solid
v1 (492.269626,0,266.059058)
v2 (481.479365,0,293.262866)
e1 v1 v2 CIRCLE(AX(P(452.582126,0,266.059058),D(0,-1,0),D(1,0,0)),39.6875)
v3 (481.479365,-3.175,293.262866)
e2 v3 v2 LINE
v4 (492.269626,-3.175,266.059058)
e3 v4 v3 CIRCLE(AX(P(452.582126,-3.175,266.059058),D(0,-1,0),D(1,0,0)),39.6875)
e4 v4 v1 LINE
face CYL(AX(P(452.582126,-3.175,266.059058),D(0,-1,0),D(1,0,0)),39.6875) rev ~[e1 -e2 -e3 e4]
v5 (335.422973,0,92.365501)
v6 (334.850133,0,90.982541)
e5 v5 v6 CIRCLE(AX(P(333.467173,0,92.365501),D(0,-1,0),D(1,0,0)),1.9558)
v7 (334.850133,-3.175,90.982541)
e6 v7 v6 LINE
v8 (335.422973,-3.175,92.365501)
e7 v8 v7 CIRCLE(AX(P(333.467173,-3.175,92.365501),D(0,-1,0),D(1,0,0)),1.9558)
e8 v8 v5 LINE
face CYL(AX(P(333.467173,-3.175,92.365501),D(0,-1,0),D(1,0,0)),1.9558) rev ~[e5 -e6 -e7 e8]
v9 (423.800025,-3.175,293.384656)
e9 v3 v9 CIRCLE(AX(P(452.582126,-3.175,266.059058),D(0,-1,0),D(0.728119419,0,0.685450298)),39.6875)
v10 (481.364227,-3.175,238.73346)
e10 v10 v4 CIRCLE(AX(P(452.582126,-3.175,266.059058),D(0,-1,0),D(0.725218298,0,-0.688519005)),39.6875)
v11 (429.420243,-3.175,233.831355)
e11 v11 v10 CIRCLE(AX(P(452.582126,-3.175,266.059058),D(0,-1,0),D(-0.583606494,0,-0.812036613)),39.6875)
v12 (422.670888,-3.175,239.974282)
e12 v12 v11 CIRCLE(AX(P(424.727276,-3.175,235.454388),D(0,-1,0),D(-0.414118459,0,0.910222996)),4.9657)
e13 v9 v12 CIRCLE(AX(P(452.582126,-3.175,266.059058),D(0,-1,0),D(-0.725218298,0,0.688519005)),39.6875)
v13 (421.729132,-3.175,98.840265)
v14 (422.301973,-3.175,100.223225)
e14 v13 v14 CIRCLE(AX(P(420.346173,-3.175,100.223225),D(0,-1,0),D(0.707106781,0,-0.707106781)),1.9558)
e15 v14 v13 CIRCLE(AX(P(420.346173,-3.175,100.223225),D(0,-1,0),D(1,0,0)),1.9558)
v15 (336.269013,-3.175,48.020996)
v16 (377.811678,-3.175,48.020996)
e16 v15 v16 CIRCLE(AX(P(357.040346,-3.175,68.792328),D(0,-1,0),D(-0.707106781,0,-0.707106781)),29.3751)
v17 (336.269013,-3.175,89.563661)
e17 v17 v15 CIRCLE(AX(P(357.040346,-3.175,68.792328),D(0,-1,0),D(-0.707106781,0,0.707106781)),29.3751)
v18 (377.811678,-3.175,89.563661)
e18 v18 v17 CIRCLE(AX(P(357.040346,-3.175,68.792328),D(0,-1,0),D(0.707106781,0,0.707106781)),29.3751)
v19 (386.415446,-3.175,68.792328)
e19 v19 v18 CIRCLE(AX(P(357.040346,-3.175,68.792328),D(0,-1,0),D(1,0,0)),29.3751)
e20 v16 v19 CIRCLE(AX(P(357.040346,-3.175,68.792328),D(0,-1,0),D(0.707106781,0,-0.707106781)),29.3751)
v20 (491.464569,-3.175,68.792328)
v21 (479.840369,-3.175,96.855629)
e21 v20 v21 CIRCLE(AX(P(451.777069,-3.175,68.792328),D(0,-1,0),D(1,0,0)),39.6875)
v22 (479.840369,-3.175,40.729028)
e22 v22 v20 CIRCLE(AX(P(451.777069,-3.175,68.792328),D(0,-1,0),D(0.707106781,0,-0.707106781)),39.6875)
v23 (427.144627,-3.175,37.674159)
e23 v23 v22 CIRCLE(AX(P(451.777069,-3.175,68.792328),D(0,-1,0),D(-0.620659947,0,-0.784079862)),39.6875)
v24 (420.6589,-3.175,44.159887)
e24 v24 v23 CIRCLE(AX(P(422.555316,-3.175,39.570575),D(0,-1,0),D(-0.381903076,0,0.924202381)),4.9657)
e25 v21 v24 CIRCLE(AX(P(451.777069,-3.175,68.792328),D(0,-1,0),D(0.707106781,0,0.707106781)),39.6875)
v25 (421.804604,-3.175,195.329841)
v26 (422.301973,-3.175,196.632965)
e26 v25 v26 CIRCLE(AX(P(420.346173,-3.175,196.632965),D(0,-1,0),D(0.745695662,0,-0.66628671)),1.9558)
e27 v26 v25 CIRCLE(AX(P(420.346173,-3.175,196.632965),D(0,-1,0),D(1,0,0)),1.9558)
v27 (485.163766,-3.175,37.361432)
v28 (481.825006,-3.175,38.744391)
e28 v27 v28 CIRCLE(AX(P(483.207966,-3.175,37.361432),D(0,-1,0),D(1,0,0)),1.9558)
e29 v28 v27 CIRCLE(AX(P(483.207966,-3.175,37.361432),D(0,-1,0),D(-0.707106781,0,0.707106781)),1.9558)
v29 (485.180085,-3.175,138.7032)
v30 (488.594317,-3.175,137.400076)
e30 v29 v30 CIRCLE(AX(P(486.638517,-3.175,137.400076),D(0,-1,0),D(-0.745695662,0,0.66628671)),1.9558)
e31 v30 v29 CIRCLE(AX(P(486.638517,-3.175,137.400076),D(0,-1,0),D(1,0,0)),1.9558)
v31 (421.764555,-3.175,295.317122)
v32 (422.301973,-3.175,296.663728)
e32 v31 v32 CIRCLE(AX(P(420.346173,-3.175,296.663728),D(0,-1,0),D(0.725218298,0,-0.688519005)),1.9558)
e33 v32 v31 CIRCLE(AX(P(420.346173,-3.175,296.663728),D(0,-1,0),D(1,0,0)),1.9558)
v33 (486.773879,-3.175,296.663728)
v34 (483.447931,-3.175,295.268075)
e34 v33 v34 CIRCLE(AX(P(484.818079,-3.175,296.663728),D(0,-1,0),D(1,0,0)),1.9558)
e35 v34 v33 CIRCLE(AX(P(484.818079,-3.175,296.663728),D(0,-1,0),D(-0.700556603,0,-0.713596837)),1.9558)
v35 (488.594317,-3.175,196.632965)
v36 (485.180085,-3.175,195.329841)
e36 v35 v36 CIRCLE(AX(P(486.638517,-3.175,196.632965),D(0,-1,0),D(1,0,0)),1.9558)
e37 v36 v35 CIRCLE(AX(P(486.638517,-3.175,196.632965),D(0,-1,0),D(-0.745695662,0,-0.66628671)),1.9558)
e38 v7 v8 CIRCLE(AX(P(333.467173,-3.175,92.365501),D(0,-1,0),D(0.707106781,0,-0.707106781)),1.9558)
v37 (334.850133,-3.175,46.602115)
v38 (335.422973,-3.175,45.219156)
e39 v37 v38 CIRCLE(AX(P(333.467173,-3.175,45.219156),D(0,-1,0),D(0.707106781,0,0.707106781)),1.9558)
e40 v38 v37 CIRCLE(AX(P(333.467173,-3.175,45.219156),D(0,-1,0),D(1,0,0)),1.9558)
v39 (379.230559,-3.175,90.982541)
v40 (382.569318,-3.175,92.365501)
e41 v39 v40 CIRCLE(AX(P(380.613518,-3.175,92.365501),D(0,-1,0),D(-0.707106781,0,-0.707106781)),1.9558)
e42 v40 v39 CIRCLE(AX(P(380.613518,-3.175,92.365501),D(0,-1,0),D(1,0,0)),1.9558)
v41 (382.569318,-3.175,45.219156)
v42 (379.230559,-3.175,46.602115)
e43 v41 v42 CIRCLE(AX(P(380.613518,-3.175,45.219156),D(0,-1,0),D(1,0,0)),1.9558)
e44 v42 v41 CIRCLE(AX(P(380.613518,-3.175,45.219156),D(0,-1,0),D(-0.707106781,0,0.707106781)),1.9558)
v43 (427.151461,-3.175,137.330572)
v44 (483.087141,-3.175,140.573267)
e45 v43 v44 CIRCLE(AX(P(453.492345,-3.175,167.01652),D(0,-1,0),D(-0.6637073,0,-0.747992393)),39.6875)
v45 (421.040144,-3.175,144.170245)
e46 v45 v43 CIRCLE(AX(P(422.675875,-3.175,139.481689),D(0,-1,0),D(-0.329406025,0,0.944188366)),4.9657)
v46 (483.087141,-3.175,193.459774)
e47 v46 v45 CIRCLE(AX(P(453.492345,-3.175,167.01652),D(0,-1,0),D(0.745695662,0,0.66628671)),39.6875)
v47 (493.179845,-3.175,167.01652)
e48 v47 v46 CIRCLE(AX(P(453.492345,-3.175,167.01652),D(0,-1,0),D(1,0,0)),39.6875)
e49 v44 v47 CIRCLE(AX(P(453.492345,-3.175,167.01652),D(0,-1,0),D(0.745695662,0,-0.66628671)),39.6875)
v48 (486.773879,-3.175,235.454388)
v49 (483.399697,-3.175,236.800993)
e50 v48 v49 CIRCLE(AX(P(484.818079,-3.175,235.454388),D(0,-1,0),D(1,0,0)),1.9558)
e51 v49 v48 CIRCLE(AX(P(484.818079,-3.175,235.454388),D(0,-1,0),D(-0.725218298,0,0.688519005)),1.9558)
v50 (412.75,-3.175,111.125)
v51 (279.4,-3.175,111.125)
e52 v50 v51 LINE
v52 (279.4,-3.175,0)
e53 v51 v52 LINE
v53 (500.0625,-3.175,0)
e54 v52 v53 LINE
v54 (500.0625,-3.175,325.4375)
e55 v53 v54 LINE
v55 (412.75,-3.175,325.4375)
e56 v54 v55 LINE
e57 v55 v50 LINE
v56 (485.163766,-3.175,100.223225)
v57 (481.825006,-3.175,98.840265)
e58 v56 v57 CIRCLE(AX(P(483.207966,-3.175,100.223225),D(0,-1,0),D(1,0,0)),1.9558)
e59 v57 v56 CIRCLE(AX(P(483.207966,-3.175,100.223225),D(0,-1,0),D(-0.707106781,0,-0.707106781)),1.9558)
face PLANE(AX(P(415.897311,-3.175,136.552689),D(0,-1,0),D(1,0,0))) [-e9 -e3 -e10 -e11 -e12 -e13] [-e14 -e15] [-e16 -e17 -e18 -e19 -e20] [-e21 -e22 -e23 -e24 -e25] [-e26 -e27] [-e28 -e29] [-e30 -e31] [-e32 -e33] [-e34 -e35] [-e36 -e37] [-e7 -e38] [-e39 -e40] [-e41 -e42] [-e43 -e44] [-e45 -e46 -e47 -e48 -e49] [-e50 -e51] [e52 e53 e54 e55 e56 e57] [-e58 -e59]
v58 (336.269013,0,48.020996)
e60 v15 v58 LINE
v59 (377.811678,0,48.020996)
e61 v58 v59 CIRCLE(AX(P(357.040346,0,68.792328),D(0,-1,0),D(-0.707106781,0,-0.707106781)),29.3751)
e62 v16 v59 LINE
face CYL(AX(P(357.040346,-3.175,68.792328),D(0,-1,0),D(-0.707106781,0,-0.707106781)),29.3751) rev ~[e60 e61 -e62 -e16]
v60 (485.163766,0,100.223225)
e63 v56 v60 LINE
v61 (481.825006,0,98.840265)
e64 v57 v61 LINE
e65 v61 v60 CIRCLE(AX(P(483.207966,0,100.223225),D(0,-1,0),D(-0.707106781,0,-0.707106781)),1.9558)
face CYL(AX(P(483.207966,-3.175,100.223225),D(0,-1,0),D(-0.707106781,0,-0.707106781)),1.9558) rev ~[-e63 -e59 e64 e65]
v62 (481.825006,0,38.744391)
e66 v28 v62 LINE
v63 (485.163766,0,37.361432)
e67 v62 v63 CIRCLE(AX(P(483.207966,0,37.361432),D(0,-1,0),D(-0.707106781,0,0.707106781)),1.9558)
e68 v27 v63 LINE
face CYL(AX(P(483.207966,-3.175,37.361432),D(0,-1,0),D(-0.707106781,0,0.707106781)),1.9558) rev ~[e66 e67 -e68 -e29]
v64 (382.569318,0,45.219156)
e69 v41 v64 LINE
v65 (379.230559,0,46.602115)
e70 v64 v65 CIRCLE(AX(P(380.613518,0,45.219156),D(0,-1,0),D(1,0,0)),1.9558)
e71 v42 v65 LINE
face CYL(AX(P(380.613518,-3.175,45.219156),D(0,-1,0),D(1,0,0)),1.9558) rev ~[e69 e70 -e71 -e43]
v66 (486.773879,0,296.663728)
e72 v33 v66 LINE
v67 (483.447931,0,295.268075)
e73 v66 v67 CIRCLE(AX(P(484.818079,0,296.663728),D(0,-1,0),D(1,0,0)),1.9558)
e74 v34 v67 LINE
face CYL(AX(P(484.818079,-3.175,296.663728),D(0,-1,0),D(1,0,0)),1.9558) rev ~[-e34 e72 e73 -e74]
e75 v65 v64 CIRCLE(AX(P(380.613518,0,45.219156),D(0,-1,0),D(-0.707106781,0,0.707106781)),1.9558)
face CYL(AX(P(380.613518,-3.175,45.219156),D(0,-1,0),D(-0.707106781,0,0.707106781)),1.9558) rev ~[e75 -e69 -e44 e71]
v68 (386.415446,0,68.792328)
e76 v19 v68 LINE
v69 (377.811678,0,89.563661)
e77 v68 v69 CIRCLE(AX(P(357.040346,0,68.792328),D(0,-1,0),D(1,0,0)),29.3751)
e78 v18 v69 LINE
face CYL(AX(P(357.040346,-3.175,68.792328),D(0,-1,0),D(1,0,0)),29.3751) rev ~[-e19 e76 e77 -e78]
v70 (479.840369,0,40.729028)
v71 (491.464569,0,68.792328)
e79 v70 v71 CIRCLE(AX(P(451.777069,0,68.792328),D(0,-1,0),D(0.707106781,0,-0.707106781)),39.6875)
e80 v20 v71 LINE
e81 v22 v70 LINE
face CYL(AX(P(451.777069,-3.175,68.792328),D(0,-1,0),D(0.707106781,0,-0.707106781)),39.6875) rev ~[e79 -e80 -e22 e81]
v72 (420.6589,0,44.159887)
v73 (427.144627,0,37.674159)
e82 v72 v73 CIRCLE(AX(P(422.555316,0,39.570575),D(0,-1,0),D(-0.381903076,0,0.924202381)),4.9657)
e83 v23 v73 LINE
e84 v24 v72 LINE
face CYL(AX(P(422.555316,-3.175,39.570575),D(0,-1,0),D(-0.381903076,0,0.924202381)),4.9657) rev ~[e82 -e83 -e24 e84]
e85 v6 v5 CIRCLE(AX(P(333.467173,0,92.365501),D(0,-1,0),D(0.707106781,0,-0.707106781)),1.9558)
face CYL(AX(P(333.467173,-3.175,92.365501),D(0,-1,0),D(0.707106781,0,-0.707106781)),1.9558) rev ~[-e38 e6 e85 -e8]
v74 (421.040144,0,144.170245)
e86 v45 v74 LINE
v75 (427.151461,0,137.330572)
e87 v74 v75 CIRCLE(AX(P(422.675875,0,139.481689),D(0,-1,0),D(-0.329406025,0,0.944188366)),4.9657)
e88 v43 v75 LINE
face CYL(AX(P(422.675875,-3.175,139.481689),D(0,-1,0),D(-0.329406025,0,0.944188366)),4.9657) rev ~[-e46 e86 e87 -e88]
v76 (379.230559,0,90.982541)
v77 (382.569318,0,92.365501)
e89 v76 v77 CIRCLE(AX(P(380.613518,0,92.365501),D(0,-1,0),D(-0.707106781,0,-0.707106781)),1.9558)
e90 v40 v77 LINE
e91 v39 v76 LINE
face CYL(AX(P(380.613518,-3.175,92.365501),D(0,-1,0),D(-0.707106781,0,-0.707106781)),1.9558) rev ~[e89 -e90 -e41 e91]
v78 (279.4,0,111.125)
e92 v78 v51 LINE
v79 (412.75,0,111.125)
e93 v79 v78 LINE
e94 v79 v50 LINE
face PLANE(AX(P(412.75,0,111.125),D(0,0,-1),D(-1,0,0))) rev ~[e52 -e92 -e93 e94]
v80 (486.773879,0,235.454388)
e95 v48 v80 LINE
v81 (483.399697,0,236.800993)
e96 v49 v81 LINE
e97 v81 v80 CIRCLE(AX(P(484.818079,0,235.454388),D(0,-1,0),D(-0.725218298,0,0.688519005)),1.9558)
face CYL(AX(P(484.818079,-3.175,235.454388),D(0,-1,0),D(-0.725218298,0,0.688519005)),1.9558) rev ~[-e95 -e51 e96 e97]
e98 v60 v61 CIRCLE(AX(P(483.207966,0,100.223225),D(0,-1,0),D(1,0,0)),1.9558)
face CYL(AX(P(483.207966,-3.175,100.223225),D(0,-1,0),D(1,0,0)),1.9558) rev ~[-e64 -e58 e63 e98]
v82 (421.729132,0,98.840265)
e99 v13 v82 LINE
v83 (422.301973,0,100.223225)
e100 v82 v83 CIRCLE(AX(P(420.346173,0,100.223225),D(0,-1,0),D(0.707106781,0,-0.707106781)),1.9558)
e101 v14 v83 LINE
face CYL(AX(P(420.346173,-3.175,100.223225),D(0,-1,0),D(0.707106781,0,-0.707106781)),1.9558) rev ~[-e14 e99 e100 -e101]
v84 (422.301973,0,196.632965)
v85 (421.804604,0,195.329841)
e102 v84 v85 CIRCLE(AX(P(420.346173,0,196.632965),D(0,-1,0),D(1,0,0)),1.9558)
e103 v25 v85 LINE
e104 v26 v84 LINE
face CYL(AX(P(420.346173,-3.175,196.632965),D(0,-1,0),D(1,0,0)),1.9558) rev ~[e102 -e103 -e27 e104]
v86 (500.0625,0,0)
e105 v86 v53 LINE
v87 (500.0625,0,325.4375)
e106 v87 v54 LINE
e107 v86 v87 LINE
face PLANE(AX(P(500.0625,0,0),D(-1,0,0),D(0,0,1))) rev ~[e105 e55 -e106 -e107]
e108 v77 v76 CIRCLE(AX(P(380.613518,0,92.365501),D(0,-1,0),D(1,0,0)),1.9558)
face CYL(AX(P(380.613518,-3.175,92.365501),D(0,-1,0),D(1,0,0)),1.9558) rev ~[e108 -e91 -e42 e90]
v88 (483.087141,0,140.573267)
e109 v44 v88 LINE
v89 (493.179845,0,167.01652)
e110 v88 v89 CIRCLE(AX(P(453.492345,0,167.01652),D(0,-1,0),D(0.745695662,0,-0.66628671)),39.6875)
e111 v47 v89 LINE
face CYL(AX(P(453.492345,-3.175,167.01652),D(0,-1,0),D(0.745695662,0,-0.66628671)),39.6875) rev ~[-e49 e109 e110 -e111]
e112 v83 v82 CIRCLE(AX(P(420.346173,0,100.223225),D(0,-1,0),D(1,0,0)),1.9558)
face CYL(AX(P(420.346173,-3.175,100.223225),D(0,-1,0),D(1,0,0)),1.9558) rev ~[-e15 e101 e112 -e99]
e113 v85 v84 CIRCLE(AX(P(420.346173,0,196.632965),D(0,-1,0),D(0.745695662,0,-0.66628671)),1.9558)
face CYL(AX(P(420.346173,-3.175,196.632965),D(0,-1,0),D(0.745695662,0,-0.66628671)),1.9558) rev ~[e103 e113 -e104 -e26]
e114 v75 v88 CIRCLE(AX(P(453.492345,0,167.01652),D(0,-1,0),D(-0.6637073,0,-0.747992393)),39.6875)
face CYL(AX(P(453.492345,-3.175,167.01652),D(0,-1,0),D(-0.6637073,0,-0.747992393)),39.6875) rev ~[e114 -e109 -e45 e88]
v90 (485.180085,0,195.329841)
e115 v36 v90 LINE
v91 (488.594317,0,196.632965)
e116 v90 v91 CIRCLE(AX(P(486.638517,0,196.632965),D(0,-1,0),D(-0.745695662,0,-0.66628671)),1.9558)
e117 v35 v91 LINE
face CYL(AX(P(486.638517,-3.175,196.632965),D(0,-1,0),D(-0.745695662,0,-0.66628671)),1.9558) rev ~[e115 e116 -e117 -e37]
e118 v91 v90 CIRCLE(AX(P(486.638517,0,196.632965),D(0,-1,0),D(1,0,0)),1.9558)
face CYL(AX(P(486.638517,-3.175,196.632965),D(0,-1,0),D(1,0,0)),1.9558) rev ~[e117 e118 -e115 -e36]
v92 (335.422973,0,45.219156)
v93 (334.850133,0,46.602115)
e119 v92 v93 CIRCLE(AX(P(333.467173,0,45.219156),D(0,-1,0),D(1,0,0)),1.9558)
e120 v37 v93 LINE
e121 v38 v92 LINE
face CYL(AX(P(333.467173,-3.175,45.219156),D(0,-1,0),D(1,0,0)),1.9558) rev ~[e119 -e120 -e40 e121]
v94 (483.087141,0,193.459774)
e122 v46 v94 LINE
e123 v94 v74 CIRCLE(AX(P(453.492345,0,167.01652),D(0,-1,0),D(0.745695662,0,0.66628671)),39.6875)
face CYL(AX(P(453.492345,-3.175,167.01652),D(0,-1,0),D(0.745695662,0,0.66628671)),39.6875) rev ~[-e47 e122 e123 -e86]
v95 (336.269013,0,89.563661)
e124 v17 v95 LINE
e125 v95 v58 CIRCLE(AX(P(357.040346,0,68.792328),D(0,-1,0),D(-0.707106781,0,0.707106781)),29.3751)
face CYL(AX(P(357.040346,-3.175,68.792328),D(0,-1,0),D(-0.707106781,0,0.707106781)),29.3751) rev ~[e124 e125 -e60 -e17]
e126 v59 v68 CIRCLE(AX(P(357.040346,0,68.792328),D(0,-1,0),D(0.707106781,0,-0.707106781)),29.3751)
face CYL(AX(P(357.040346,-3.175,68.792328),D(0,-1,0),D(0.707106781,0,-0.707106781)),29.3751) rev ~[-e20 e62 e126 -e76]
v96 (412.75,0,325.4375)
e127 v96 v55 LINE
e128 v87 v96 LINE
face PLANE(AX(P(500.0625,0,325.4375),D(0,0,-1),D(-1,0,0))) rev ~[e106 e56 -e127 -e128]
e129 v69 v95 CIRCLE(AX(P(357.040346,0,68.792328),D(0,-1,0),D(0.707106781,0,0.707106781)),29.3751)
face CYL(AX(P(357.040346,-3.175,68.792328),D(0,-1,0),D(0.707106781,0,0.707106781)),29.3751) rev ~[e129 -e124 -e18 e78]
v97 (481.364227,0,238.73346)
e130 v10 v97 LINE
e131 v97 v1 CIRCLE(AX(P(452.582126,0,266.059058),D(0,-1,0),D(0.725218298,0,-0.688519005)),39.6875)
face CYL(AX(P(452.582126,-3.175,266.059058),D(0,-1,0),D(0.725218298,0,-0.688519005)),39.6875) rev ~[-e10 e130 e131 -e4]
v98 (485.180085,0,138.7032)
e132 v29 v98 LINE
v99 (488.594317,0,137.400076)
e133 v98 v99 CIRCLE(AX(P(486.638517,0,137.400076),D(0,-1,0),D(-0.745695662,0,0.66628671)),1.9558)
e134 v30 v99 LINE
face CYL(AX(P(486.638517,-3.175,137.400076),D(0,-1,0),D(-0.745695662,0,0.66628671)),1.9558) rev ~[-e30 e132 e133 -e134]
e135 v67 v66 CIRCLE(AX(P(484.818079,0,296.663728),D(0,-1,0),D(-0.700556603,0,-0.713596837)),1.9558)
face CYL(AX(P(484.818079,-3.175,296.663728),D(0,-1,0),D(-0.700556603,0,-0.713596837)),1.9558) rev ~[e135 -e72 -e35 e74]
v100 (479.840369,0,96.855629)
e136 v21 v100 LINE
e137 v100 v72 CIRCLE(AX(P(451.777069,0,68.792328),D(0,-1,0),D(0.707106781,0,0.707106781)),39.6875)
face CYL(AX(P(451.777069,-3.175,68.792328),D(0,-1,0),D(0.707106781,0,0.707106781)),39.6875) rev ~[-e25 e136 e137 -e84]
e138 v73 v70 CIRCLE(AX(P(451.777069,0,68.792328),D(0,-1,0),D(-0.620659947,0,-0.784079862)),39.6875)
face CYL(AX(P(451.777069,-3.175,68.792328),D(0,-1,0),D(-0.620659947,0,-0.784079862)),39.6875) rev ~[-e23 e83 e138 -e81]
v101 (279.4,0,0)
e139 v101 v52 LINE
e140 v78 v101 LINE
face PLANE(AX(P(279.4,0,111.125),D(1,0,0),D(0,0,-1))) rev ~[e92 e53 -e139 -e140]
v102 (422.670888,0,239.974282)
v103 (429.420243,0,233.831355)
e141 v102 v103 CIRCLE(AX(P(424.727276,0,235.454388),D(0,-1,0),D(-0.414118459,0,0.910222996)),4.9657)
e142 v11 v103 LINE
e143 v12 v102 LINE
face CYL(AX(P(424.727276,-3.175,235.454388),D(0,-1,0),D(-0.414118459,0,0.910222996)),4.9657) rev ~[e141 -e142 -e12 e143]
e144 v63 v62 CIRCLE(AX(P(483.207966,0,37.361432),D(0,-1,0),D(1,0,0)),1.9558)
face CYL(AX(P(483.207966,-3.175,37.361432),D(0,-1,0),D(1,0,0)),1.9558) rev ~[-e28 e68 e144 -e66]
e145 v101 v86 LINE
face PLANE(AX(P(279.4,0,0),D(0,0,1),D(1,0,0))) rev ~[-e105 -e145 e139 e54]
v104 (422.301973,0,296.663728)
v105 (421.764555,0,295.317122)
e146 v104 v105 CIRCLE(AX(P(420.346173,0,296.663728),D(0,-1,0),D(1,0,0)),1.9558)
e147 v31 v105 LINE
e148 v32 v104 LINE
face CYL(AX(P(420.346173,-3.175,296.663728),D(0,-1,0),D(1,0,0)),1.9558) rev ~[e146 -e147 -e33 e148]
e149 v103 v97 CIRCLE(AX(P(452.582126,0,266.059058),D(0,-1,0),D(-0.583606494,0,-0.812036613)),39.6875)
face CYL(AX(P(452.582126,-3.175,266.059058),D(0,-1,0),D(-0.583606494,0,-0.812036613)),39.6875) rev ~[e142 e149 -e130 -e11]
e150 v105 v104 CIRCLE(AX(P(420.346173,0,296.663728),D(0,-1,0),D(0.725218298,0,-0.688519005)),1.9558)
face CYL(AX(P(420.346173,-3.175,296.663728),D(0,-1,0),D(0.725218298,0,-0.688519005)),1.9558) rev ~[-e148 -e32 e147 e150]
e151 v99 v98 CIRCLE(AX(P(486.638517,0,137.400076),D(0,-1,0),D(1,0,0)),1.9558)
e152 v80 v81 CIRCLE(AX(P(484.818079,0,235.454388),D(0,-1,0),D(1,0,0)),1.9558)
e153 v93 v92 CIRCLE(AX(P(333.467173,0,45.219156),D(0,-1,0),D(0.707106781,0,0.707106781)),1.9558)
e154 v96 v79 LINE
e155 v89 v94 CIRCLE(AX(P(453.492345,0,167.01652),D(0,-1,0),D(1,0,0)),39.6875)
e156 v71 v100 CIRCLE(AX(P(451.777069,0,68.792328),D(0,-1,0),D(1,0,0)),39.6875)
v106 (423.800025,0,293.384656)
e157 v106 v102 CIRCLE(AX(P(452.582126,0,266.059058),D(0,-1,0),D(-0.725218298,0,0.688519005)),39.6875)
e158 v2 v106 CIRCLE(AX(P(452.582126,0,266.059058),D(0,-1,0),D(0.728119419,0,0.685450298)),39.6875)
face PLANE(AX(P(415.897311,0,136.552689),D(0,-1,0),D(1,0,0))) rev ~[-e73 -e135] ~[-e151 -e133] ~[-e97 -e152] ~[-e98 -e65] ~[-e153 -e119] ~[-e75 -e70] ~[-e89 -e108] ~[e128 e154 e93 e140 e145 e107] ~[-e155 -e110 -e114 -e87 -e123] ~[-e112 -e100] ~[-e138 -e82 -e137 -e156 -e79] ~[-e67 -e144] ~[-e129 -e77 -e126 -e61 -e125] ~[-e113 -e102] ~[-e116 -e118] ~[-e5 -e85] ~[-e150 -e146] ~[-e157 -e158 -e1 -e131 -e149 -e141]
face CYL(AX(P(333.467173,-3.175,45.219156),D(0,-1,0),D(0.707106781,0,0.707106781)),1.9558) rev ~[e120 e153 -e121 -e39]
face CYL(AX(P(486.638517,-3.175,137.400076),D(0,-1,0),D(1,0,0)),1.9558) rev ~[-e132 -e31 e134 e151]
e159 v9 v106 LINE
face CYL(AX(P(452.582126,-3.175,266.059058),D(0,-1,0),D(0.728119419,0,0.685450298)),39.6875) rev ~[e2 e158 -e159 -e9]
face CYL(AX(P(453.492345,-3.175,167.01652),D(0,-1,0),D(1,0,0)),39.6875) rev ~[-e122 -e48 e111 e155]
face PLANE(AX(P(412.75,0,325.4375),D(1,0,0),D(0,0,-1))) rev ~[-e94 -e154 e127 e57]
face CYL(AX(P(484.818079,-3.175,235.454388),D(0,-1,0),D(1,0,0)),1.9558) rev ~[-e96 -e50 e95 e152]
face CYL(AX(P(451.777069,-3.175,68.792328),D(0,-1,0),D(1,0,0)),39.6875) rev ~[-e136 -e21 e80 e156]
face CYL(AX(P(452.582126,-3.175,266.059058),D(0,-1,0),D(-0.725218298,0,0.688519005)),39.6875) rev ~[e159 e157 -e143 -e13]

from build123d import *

# Parameters (mm, degrees)
F2_DEPTH = 3.175
F4_DEPTH = 3.175


with BuildPart() as f2:
    # F0 (on Front) → F2 (new body)
    with BuildSketch(Plane.XZ):
        Polygon((279.4, 111.125), (279.4, 0), (500.0625, 0), (500.0625, 325.4375), (412.75, 325.4375), (412.75, 111.125), align=None)
    extrude(amount=F2_DEPTH)

    # F3 (on face) → F4 (cut)
    with BuildSketch(Plane.XZ.offset(3.175)):
        with BuildLine():
            ThreePointArc((481.3642272004, 238.7334597472), (489.4425878701, 251.3483811153), (492.2696260085, 266.0590577686))
            ThreePointArc((492.2696260085, 266.0590577686), (489.4735670658, 280.6918713383), (481.4793654496, 293.2628664897))
            Line((481.4793654496, 293.2628664897), (453.7159248077, 264.9826342644))
            Line((453.7159248077, 264.9826342644), (481.3642272004, 238.7334597472))
        make_face()
        with BuildLine():
            ThreePointArc((486.7738793434, 235.4543879846), (485.5430214889, 237.2708715452), (483.3996973967, 236.8009934551))
            ThreePointArc((483.3996973967, 236.8009934551), (484.0931371979, 233.6379044241), (486.7738793434, 235.4543879846))
        make_face()
        with BuildLine():
            ThreePointArc((422.3019726735, 296.6637275526), (418.529689113, 297.3886696981), (421.7645546203, 295.3171220821))
            ThreePointArc((421.7645546203, 295.3171220821), (422.1626562341, 295.9387854072), (422.3019726735, 296.6637275526))
        make_face()
        with BuildLine():
            ThreePointArc((486.7738793434, 296.6637275526), (484.061304278, 298.4671812228), (483.4479307389, 295.2680748589))
            ThreePointArc((483.4479307389, 295.2680748589), (485.5748544088, 294.8602738825), (486.7738793434, 296.6637275526))
        make_face()
        with BuildLine():
            Line((453.7159248077, 264.9826342644), (481.4793654496, 293.2628664897))
            ThreePointArc((481.4793654496, 293.2628664897), (452.6659255462, 305.7464692978), (423.8000248166, 293.3846557901))
            Line((423.8000248166, 293.3846557901), (453.7159248077, 264.9826342644))
        make_face()
        with BuildLine():
            ThreePointArc((429.4202432807, 233.8313547051), (456.3109827176, 226.5471192703), (481.3642272004, 238.7334597472))
            Line((481.3642272004, 238.7334597472), (453.7159248077, 264.9826342644))
            Line((453.7159248077, 264.9826342644), (428.2060301838, 238.997895798))
            ThreePointArc((428.2060301838, 238.997895798), (429.3061748634, 237.375810391), (429.6929762593, 235.4543879846))
            ThreePointArc((429.6929762593, 235.4543879846), (429.624318368, 234.631493656), (429.4202432807, 233.8313547051))
        make_face()
        with BuildLine():
            Line((453.7159248077, 264.9826342644), (423.8000248166, 293.3846557901))
            ThreePointArc((423.8000248166, 293.3846557901), (412.9034918494, 266.8978947734), (422.6708882255, 239.9742823135))
            ThreePointArc((422.6708882255, 239.9742823135), (425.5898965922, 240.3445886606), (428.2060301838, 238.997895798))
            Line((428.2060301838, 238.997895798), (453.7159248077, 264.9826342644))
        make_face()
        with BuildLine():
            ThreePointArc((422.6708882255, 239.9742823135), (421.3848554166, 231.7820046441), (429.4202432807, 233.8313547051))
            ThreePointArc((429.4202432807, 233.8313547051), (427.6277830511, 235.1984287437), (425.9158340881, 236.6650697529))
            ThreePointArc((425.9158340881, 236.6650697529), (424.2450136155, 238.2722674273), (422.6708882255, 239.9742823135))
        make_face()
        with BuildLine():
            ThreePointArc((425.9158340881, 236.6650697529), (427.6277830511, 235.1984287437), (429.4202432807, 233.8313547051))
            ThreePointArc((429.4202432807, 233.8313547051), (429.624318368, 234.631493656), (429.6929762593, 235.4543879846))
            ThreePointArc((429.6929762593, 235.4543879846), (429.3061748634, 237.375810391), (428.2060301838, 238.997895798))
            Line((428.2060301838, 238.997895798), (425.9158340881, 236.6650697529))
        make_face()
        with BuildLine():
            ThreePointArc((428.2060301838, 238.997895798), (425.5898965922, 240.3445886606), (422.6708882255, 239.9742823135))
            ThreePointArc((422.6708882255, 239.9742823135), (424.2450136155, 238.2722674273), (425.9158340881, 236.6650697529))
            Line((425.9158340881, 236.6650697529), (428.2060301838, 238.997895798))
        make_face()
        with BuildLine():
            ThreePointArc((483.0871414525, 140.5732665968), (490.5709178225, 152.8645917792), (493.1798448587, 167.0165203833))
            ThreePointArc((493.1798448587, 167.0165203833), (490.5709178225, 181.1684489874), (483.0871414525, 193.4597741698))
            Line((483.0871414525, 193.4597741698), (453.4923448587, 167.0165203833))
            Line((453.4923448587, 167.0165203833), (483.0871414525, 140.5732665968))
        make_face()
        with BuildLine():
            ThreePointArc((488.5943170438, 137.4000761424), (487.3359240854, 139.2273082181), (485.1800854677, 138.703199689))
            ThreePointArc((485.1800854677, 138.703199689), (485.9411100022, 135.5728440667), (488.5943170438, 137.4000761424))
        make_face()
        with BuildLine():
            ThreePointArc((422.3019726735, 196.6329646242), (418.5189405979, 197.3303716658), (421.8046042497, 195.3298410776))
            ThreePointArc((421.8046042497, 195.3298410776), (422.1734047492, 195.9355575826), (422.3019726735, 196.6329646242))
        make_face()
        with BuildLine():
            ThreePointArc((488.5943170438, 196.6329646242), (485.9411100022, 198.4601966998), (485.1800854677, 195.3298410776))
            ThreePointArc((485.1800854677, 195.3298410776), (487.3359240854, 194.8057325485), (488.5943170438, 196.6329646242))
        make_face()
        with BuildLine():
            Line((453.4923448587, 167.0165203833), (483.0871414525, 193.4597741698))
            ThreePointArc((483.0871414525, 193.4597741698), (453.4923448587, 206.7040203833), (423.8975482648, 193.4597741698))
            Line((423.8975482648, 193.4597741698), (453.4923448587, 167.0165203833))
        make_face()
        with BuildLine():
            ThreePointArc((427.1514613938, 137.3305722842), (455.7892458718, 127.3955423289), (483.0871414525, 140.5732665968))
            Line((483.0871414525, 140.5732665968), (453.4923448587, 167.0165203833))
            Line((453.4923448587, 167.0165203833), (426.3787760112, 142.7902689942))
            ThreePointArc((426.3787760112, 142.7902689942), (427.3151461106, 141.2523783874), (427.6415750614, 139.4816890805))
            ThreePointArc((427.6415750614, 139.4816890805), (427.5174964603, 138.3785668209), (427.1514613938, 137.3305722842))
        make_face()
        with BuildLine():
            Line((453.4923448587, 167.0165203833), (423.8975482648, 193.4597741698))
            ThreePointArc((423.8975482648, 193.4597741698), (413.8713668043, 169.3134213964), (421.0401435648, 144.1702452507))
            ThreePointArc((421.0401435648, 144.1702452507), (423.9186063293, 144.2893699648), (426.3787760112, 142.7902689942))
            Line((426.3787760112, 142.7902689942), (453.4923448587, 167.0165203833))
        make_face()
        with BuildLine():
            ThreePointArc((421.0401435648, 144.1702452507), (418.9729741116, 136.1731091667), (427.1514613938, 137.3305722842))
            ThreePointArc((427.1514613938, 137.3305722842), (425.4775480093, 138.9048001631), (423.8975482648, 140.5732665968))
            ThreePointArc((423.8975482648, 140.5732665968), (422.4167587728, 142.330378407), (421.0401435648, 144.1702452507))
        make_face()
        with BuildLine():
            ThreePointArc((423.8975482648, 140.5732665968), (425.4775480093, 138.9048001631), (427.1514613938, 137.3305722842))
            ThreePointArc((427.1514613938, 137.3305722842), (427.5174964603, 138.3785668209), (427.6415750614, 139.4816890805))
            ThreePointArc((427.6415750614, 139.4816890805), (427.3151461106, 141.2523783874), (426.3787760112, 142.7902689942))
            Line((426.3787760112, 142.7902689942), (423.8975482648, 140.5732665968))
        make_face()
        with BuildLine():
            ThreePointArc((426.3787760112, 142.7902689942), (423.9186063293, 144.2893699648), (421.0401435648, 144.1702452507))
            ThreePointArc((421.0401435648, 144.1702452507), (422.4167587728, 142.330378407), (423.8975482648, 140.5732665968))
            Line((423.8975482648, 140.5732665968), (426.3787760112, 142.7902689942))
        make_face()
        with BuildLine():
            ThreePointArc((479.8403694756, 40.7290278601), (488.4435380438, 53.6045795165), (491.4645690973, 68.7923282385))
            ThreePointArc((491.4645690973, 68.7923282385), (488.4435380438, 83.9800769605), (479.8403694756, 96.8556286168))
            Line((479.8403694756, 96.8556286168), (451.7770690973, 68.7923282385))
            Line((451.7770690973, 68.7923282385), (479.8403694756, 40.7290278601))
        make_face()
        with BuildLine():
            ThreePointArc((485.163765521, 37.3614318147), (483.956417778, 39.1683554044), (481.8250060784, 38.7443912574))
            ThreePointArc((481.8250060784, 38.7443912574), (482.459513264, 35.5545082251), (485.163765521, 37.3614318147))
        make_face()
        with BuildLine():
            ThreePointArc((422.3019726735, 100.2232246622), (418.5392490839, 100.9716769192), (421.7291321162, 98.8402652196))
            ThreePointArc((421.7291321162, 98.8402652196), (422.1530962632, 99.4747724052), (422.3019726735, 100.2232246622))
        make_face()
        with BuildLine():
            ThreePointArc((485.163765521, 100.2232246622), (482.459513264, 102.0301482519), (481.8250060784, 98.8402652196))
            ThreePointArc((481.8250060784, 98.8402652196), (483.956417778, 98.4163010725), (485.163765521, 100.2232246622))
        make_face()
        with BuildLine():
            Line((451.7770690973, 68.7923282385), (479.8403694756, 96.8556286168))
            ThreePointArc((479.8403694756, 96.8556286168), (451.7770690973, 108.4798282385), (423.7137687189, 96.8556286168))
            Line((423.7137687189, 96.8556286168), (451.7770690973, 68.7923282385))
        make_face()
        with BuildLine():
            ThreePointArc((427.1446274419, 37.6741587174), (454.0739701104, 29.1713501841), (479.8403694756, 40.7290278601))
            Line((479.8403694756, 40.7290278601), (451.7770690973, 68.7923282385))
            Line((451.7770690973, 68.7923282385), (426.0665958227, 43.0818549639))
            ThreePointArc((426.0665958227, 43.0818549639), (427.1430242739, 41.4708659406), (427.5210156793, 39.5705748205))
            ThreePointArc((427.5210156793, 39.5705748205), (427.426009773, 38.6038713834), (427.1446274419, 37.6741587174))
        make_face()
        with BuildLine():
            Line((451.7770690973, 68.7923282385), (423.7137687189, 96.8556286168))
            ThreePointArc((423.7137687189, 96.8556286168), (412.1560910429, 71.0892292516), (420.6588995762, 44.1598865831))
            ThreePointArc((420.6588995762, 44.1598865831), (423.5261320935, 44.4404507922), (426.0665958227, 43.0818549639))
            Line((426.0665958227, 43.0818549639), (451.7770690973, 68.7923282385))
        make_face()
        with BuildLine():
            ThreePointArc((420.6588995762, 44.1598865831), (419.044035536, 36.0592946772), (427.1446274419, 37.6741587174))
            ThreePointArc((427.1446274419, 37.6741587174), (425.3849611199, 39.1519116969), (423.7137687189, 40.7290278601))
            ThreePointArc((423.7137687189, 40.7290278601), (422.1366525557, 42.4002202611), (420.6588995762, 44.1598865831))
        make_face()
        with BuildLine():
            ThreePointArc((423.7137687189, 40.7290278601), (425.3849611199, 39.1519116969), (427.1446274419, 37.6741587174))
            ThreePointArc((427.1446274419, 37.6741587174), (427.426009773, 38.6038713834), (427.5210156793, 39.5705748205))
            ThreePointArc((427.5210156793, 39.5705748205), (427.1430242739, 41.4708659406), (426.0665958227, 43.0818549639))
            Line((426.0665958227, 43.0818549639), (423.7137687189, 40.7290278601))
        make_face()
        with BuildLine():
            ThreePointArc((426.0665958227, 43.0818549639), (423.5261320935, 44.4404507922), (420.6588995762, 44.1598865831))
            ThreePointArc((420.6588995762, 44.1598865831), (422.1366525557, 42.4002202611), (423.7137687189, 40.7290278601))
            Line((423.7137687189, 40.7290278601), (426.0665958227, 43.0818549639))
        make_face()
        with BuildLine():
            ThreePointArc((377.8116780768, 48.0209958305), (384.1793993243, 57.5509641444), (386.4154456688, 68.7923282385))
            ThreePointArc((386.4154456688, 68.7923282385), (384.1793993243, 80.0336923326), (377.8116780768, 89.5636606465))
            Line((377.8116780768, 89.5636606465), (357.0403456688, 68.7923282385))
            Line((357.0403456688, 68.7923282385), (377.8116780768, 48.0209958305))
        make_face()
        with BuildLine():
            ThreePointArc((382.5693179866, 45.2191559207), (381.3619702436, 47.0260795104), (379.230558544, 46.6021153633))
            ThreePointArc((379.230558544, 46.6021153633), (379.8650657296, 43.412232331), (382.5693179866, 45.2191559207))
        make_face()
        with BuildLine():
            ThreePointArc((335.422973351, 45.2191559207), (335.2740969407, 45.9676081777), (334.8501327936, 46.6021153633))
            ThreePointArc((334.8501327936, 46.6021153633), (331.6602497613, 44.4707036637), (335.422973351, 45.2191559207))
        make_face()
        with BuildLine():
            ThreePointArc((335.422973351, 92.3655005563), (331.6602497613, 93.1139528133), (334.8501327936, 90.9825411136))
            ThreePointArc((334.8501327936, 90.9825411136), (335.2740969407, 91.6170482993), (335.422973351, 92.3655005563))
        make_face()
        with BuildLine():
            ThreePointArc((382.5693179866, 92.3655005563), (379.8650657296, 94.172424146), (379.230558544, 90.9825411136))
            ThreePointArc((379.230558544, 90.9825411136), (381.3619702436, 90.5585769666), (382.5693179866, 92.3655005563))
        make_face()
        with BuildLine():
            Line((357.0403456688, 68.7923282385), (377.8116780768, 89.5636606465))
            ThreePointArc((377.8116780768, 89.5636606465), (357.0403456688, 98.1674282385), (336.2690132608, 89.5636606465))
            Line((336.2690132608, 89.5636606465), (357.0403456688, 68.7923282385))
        make_face()
        with BuildLine():
            ThreePointArc((336.2690132608, 48.0209958305), (357.0403456688, 39.4172282385), (377.8116780768, 48.0209958305))
            Line((377.8116780768, 48.0209958305), (357.0403456688, 68.7923282385))
            Line((357.0403456688, 68.7923282385), (336.2690132608, 48.0209958305))
        make_face()
        with BuildLine():
            Line((357.0403456688, 68.7923282385), (336.2690132608, 89.5636606465))
            ThreePointArc((336.2690132608, 89.5636606465), (327.6652456688, 68.7923282385), (336.2690132608, 48.0209958305))
            Line((336.2690132608, 48.0209958305), (357.0403456688, 68.7923282385))
        make_face()
    extrude(amount=-F4_DEPTH, mode=Mode.SUBTRACT)


solid = f2.part
